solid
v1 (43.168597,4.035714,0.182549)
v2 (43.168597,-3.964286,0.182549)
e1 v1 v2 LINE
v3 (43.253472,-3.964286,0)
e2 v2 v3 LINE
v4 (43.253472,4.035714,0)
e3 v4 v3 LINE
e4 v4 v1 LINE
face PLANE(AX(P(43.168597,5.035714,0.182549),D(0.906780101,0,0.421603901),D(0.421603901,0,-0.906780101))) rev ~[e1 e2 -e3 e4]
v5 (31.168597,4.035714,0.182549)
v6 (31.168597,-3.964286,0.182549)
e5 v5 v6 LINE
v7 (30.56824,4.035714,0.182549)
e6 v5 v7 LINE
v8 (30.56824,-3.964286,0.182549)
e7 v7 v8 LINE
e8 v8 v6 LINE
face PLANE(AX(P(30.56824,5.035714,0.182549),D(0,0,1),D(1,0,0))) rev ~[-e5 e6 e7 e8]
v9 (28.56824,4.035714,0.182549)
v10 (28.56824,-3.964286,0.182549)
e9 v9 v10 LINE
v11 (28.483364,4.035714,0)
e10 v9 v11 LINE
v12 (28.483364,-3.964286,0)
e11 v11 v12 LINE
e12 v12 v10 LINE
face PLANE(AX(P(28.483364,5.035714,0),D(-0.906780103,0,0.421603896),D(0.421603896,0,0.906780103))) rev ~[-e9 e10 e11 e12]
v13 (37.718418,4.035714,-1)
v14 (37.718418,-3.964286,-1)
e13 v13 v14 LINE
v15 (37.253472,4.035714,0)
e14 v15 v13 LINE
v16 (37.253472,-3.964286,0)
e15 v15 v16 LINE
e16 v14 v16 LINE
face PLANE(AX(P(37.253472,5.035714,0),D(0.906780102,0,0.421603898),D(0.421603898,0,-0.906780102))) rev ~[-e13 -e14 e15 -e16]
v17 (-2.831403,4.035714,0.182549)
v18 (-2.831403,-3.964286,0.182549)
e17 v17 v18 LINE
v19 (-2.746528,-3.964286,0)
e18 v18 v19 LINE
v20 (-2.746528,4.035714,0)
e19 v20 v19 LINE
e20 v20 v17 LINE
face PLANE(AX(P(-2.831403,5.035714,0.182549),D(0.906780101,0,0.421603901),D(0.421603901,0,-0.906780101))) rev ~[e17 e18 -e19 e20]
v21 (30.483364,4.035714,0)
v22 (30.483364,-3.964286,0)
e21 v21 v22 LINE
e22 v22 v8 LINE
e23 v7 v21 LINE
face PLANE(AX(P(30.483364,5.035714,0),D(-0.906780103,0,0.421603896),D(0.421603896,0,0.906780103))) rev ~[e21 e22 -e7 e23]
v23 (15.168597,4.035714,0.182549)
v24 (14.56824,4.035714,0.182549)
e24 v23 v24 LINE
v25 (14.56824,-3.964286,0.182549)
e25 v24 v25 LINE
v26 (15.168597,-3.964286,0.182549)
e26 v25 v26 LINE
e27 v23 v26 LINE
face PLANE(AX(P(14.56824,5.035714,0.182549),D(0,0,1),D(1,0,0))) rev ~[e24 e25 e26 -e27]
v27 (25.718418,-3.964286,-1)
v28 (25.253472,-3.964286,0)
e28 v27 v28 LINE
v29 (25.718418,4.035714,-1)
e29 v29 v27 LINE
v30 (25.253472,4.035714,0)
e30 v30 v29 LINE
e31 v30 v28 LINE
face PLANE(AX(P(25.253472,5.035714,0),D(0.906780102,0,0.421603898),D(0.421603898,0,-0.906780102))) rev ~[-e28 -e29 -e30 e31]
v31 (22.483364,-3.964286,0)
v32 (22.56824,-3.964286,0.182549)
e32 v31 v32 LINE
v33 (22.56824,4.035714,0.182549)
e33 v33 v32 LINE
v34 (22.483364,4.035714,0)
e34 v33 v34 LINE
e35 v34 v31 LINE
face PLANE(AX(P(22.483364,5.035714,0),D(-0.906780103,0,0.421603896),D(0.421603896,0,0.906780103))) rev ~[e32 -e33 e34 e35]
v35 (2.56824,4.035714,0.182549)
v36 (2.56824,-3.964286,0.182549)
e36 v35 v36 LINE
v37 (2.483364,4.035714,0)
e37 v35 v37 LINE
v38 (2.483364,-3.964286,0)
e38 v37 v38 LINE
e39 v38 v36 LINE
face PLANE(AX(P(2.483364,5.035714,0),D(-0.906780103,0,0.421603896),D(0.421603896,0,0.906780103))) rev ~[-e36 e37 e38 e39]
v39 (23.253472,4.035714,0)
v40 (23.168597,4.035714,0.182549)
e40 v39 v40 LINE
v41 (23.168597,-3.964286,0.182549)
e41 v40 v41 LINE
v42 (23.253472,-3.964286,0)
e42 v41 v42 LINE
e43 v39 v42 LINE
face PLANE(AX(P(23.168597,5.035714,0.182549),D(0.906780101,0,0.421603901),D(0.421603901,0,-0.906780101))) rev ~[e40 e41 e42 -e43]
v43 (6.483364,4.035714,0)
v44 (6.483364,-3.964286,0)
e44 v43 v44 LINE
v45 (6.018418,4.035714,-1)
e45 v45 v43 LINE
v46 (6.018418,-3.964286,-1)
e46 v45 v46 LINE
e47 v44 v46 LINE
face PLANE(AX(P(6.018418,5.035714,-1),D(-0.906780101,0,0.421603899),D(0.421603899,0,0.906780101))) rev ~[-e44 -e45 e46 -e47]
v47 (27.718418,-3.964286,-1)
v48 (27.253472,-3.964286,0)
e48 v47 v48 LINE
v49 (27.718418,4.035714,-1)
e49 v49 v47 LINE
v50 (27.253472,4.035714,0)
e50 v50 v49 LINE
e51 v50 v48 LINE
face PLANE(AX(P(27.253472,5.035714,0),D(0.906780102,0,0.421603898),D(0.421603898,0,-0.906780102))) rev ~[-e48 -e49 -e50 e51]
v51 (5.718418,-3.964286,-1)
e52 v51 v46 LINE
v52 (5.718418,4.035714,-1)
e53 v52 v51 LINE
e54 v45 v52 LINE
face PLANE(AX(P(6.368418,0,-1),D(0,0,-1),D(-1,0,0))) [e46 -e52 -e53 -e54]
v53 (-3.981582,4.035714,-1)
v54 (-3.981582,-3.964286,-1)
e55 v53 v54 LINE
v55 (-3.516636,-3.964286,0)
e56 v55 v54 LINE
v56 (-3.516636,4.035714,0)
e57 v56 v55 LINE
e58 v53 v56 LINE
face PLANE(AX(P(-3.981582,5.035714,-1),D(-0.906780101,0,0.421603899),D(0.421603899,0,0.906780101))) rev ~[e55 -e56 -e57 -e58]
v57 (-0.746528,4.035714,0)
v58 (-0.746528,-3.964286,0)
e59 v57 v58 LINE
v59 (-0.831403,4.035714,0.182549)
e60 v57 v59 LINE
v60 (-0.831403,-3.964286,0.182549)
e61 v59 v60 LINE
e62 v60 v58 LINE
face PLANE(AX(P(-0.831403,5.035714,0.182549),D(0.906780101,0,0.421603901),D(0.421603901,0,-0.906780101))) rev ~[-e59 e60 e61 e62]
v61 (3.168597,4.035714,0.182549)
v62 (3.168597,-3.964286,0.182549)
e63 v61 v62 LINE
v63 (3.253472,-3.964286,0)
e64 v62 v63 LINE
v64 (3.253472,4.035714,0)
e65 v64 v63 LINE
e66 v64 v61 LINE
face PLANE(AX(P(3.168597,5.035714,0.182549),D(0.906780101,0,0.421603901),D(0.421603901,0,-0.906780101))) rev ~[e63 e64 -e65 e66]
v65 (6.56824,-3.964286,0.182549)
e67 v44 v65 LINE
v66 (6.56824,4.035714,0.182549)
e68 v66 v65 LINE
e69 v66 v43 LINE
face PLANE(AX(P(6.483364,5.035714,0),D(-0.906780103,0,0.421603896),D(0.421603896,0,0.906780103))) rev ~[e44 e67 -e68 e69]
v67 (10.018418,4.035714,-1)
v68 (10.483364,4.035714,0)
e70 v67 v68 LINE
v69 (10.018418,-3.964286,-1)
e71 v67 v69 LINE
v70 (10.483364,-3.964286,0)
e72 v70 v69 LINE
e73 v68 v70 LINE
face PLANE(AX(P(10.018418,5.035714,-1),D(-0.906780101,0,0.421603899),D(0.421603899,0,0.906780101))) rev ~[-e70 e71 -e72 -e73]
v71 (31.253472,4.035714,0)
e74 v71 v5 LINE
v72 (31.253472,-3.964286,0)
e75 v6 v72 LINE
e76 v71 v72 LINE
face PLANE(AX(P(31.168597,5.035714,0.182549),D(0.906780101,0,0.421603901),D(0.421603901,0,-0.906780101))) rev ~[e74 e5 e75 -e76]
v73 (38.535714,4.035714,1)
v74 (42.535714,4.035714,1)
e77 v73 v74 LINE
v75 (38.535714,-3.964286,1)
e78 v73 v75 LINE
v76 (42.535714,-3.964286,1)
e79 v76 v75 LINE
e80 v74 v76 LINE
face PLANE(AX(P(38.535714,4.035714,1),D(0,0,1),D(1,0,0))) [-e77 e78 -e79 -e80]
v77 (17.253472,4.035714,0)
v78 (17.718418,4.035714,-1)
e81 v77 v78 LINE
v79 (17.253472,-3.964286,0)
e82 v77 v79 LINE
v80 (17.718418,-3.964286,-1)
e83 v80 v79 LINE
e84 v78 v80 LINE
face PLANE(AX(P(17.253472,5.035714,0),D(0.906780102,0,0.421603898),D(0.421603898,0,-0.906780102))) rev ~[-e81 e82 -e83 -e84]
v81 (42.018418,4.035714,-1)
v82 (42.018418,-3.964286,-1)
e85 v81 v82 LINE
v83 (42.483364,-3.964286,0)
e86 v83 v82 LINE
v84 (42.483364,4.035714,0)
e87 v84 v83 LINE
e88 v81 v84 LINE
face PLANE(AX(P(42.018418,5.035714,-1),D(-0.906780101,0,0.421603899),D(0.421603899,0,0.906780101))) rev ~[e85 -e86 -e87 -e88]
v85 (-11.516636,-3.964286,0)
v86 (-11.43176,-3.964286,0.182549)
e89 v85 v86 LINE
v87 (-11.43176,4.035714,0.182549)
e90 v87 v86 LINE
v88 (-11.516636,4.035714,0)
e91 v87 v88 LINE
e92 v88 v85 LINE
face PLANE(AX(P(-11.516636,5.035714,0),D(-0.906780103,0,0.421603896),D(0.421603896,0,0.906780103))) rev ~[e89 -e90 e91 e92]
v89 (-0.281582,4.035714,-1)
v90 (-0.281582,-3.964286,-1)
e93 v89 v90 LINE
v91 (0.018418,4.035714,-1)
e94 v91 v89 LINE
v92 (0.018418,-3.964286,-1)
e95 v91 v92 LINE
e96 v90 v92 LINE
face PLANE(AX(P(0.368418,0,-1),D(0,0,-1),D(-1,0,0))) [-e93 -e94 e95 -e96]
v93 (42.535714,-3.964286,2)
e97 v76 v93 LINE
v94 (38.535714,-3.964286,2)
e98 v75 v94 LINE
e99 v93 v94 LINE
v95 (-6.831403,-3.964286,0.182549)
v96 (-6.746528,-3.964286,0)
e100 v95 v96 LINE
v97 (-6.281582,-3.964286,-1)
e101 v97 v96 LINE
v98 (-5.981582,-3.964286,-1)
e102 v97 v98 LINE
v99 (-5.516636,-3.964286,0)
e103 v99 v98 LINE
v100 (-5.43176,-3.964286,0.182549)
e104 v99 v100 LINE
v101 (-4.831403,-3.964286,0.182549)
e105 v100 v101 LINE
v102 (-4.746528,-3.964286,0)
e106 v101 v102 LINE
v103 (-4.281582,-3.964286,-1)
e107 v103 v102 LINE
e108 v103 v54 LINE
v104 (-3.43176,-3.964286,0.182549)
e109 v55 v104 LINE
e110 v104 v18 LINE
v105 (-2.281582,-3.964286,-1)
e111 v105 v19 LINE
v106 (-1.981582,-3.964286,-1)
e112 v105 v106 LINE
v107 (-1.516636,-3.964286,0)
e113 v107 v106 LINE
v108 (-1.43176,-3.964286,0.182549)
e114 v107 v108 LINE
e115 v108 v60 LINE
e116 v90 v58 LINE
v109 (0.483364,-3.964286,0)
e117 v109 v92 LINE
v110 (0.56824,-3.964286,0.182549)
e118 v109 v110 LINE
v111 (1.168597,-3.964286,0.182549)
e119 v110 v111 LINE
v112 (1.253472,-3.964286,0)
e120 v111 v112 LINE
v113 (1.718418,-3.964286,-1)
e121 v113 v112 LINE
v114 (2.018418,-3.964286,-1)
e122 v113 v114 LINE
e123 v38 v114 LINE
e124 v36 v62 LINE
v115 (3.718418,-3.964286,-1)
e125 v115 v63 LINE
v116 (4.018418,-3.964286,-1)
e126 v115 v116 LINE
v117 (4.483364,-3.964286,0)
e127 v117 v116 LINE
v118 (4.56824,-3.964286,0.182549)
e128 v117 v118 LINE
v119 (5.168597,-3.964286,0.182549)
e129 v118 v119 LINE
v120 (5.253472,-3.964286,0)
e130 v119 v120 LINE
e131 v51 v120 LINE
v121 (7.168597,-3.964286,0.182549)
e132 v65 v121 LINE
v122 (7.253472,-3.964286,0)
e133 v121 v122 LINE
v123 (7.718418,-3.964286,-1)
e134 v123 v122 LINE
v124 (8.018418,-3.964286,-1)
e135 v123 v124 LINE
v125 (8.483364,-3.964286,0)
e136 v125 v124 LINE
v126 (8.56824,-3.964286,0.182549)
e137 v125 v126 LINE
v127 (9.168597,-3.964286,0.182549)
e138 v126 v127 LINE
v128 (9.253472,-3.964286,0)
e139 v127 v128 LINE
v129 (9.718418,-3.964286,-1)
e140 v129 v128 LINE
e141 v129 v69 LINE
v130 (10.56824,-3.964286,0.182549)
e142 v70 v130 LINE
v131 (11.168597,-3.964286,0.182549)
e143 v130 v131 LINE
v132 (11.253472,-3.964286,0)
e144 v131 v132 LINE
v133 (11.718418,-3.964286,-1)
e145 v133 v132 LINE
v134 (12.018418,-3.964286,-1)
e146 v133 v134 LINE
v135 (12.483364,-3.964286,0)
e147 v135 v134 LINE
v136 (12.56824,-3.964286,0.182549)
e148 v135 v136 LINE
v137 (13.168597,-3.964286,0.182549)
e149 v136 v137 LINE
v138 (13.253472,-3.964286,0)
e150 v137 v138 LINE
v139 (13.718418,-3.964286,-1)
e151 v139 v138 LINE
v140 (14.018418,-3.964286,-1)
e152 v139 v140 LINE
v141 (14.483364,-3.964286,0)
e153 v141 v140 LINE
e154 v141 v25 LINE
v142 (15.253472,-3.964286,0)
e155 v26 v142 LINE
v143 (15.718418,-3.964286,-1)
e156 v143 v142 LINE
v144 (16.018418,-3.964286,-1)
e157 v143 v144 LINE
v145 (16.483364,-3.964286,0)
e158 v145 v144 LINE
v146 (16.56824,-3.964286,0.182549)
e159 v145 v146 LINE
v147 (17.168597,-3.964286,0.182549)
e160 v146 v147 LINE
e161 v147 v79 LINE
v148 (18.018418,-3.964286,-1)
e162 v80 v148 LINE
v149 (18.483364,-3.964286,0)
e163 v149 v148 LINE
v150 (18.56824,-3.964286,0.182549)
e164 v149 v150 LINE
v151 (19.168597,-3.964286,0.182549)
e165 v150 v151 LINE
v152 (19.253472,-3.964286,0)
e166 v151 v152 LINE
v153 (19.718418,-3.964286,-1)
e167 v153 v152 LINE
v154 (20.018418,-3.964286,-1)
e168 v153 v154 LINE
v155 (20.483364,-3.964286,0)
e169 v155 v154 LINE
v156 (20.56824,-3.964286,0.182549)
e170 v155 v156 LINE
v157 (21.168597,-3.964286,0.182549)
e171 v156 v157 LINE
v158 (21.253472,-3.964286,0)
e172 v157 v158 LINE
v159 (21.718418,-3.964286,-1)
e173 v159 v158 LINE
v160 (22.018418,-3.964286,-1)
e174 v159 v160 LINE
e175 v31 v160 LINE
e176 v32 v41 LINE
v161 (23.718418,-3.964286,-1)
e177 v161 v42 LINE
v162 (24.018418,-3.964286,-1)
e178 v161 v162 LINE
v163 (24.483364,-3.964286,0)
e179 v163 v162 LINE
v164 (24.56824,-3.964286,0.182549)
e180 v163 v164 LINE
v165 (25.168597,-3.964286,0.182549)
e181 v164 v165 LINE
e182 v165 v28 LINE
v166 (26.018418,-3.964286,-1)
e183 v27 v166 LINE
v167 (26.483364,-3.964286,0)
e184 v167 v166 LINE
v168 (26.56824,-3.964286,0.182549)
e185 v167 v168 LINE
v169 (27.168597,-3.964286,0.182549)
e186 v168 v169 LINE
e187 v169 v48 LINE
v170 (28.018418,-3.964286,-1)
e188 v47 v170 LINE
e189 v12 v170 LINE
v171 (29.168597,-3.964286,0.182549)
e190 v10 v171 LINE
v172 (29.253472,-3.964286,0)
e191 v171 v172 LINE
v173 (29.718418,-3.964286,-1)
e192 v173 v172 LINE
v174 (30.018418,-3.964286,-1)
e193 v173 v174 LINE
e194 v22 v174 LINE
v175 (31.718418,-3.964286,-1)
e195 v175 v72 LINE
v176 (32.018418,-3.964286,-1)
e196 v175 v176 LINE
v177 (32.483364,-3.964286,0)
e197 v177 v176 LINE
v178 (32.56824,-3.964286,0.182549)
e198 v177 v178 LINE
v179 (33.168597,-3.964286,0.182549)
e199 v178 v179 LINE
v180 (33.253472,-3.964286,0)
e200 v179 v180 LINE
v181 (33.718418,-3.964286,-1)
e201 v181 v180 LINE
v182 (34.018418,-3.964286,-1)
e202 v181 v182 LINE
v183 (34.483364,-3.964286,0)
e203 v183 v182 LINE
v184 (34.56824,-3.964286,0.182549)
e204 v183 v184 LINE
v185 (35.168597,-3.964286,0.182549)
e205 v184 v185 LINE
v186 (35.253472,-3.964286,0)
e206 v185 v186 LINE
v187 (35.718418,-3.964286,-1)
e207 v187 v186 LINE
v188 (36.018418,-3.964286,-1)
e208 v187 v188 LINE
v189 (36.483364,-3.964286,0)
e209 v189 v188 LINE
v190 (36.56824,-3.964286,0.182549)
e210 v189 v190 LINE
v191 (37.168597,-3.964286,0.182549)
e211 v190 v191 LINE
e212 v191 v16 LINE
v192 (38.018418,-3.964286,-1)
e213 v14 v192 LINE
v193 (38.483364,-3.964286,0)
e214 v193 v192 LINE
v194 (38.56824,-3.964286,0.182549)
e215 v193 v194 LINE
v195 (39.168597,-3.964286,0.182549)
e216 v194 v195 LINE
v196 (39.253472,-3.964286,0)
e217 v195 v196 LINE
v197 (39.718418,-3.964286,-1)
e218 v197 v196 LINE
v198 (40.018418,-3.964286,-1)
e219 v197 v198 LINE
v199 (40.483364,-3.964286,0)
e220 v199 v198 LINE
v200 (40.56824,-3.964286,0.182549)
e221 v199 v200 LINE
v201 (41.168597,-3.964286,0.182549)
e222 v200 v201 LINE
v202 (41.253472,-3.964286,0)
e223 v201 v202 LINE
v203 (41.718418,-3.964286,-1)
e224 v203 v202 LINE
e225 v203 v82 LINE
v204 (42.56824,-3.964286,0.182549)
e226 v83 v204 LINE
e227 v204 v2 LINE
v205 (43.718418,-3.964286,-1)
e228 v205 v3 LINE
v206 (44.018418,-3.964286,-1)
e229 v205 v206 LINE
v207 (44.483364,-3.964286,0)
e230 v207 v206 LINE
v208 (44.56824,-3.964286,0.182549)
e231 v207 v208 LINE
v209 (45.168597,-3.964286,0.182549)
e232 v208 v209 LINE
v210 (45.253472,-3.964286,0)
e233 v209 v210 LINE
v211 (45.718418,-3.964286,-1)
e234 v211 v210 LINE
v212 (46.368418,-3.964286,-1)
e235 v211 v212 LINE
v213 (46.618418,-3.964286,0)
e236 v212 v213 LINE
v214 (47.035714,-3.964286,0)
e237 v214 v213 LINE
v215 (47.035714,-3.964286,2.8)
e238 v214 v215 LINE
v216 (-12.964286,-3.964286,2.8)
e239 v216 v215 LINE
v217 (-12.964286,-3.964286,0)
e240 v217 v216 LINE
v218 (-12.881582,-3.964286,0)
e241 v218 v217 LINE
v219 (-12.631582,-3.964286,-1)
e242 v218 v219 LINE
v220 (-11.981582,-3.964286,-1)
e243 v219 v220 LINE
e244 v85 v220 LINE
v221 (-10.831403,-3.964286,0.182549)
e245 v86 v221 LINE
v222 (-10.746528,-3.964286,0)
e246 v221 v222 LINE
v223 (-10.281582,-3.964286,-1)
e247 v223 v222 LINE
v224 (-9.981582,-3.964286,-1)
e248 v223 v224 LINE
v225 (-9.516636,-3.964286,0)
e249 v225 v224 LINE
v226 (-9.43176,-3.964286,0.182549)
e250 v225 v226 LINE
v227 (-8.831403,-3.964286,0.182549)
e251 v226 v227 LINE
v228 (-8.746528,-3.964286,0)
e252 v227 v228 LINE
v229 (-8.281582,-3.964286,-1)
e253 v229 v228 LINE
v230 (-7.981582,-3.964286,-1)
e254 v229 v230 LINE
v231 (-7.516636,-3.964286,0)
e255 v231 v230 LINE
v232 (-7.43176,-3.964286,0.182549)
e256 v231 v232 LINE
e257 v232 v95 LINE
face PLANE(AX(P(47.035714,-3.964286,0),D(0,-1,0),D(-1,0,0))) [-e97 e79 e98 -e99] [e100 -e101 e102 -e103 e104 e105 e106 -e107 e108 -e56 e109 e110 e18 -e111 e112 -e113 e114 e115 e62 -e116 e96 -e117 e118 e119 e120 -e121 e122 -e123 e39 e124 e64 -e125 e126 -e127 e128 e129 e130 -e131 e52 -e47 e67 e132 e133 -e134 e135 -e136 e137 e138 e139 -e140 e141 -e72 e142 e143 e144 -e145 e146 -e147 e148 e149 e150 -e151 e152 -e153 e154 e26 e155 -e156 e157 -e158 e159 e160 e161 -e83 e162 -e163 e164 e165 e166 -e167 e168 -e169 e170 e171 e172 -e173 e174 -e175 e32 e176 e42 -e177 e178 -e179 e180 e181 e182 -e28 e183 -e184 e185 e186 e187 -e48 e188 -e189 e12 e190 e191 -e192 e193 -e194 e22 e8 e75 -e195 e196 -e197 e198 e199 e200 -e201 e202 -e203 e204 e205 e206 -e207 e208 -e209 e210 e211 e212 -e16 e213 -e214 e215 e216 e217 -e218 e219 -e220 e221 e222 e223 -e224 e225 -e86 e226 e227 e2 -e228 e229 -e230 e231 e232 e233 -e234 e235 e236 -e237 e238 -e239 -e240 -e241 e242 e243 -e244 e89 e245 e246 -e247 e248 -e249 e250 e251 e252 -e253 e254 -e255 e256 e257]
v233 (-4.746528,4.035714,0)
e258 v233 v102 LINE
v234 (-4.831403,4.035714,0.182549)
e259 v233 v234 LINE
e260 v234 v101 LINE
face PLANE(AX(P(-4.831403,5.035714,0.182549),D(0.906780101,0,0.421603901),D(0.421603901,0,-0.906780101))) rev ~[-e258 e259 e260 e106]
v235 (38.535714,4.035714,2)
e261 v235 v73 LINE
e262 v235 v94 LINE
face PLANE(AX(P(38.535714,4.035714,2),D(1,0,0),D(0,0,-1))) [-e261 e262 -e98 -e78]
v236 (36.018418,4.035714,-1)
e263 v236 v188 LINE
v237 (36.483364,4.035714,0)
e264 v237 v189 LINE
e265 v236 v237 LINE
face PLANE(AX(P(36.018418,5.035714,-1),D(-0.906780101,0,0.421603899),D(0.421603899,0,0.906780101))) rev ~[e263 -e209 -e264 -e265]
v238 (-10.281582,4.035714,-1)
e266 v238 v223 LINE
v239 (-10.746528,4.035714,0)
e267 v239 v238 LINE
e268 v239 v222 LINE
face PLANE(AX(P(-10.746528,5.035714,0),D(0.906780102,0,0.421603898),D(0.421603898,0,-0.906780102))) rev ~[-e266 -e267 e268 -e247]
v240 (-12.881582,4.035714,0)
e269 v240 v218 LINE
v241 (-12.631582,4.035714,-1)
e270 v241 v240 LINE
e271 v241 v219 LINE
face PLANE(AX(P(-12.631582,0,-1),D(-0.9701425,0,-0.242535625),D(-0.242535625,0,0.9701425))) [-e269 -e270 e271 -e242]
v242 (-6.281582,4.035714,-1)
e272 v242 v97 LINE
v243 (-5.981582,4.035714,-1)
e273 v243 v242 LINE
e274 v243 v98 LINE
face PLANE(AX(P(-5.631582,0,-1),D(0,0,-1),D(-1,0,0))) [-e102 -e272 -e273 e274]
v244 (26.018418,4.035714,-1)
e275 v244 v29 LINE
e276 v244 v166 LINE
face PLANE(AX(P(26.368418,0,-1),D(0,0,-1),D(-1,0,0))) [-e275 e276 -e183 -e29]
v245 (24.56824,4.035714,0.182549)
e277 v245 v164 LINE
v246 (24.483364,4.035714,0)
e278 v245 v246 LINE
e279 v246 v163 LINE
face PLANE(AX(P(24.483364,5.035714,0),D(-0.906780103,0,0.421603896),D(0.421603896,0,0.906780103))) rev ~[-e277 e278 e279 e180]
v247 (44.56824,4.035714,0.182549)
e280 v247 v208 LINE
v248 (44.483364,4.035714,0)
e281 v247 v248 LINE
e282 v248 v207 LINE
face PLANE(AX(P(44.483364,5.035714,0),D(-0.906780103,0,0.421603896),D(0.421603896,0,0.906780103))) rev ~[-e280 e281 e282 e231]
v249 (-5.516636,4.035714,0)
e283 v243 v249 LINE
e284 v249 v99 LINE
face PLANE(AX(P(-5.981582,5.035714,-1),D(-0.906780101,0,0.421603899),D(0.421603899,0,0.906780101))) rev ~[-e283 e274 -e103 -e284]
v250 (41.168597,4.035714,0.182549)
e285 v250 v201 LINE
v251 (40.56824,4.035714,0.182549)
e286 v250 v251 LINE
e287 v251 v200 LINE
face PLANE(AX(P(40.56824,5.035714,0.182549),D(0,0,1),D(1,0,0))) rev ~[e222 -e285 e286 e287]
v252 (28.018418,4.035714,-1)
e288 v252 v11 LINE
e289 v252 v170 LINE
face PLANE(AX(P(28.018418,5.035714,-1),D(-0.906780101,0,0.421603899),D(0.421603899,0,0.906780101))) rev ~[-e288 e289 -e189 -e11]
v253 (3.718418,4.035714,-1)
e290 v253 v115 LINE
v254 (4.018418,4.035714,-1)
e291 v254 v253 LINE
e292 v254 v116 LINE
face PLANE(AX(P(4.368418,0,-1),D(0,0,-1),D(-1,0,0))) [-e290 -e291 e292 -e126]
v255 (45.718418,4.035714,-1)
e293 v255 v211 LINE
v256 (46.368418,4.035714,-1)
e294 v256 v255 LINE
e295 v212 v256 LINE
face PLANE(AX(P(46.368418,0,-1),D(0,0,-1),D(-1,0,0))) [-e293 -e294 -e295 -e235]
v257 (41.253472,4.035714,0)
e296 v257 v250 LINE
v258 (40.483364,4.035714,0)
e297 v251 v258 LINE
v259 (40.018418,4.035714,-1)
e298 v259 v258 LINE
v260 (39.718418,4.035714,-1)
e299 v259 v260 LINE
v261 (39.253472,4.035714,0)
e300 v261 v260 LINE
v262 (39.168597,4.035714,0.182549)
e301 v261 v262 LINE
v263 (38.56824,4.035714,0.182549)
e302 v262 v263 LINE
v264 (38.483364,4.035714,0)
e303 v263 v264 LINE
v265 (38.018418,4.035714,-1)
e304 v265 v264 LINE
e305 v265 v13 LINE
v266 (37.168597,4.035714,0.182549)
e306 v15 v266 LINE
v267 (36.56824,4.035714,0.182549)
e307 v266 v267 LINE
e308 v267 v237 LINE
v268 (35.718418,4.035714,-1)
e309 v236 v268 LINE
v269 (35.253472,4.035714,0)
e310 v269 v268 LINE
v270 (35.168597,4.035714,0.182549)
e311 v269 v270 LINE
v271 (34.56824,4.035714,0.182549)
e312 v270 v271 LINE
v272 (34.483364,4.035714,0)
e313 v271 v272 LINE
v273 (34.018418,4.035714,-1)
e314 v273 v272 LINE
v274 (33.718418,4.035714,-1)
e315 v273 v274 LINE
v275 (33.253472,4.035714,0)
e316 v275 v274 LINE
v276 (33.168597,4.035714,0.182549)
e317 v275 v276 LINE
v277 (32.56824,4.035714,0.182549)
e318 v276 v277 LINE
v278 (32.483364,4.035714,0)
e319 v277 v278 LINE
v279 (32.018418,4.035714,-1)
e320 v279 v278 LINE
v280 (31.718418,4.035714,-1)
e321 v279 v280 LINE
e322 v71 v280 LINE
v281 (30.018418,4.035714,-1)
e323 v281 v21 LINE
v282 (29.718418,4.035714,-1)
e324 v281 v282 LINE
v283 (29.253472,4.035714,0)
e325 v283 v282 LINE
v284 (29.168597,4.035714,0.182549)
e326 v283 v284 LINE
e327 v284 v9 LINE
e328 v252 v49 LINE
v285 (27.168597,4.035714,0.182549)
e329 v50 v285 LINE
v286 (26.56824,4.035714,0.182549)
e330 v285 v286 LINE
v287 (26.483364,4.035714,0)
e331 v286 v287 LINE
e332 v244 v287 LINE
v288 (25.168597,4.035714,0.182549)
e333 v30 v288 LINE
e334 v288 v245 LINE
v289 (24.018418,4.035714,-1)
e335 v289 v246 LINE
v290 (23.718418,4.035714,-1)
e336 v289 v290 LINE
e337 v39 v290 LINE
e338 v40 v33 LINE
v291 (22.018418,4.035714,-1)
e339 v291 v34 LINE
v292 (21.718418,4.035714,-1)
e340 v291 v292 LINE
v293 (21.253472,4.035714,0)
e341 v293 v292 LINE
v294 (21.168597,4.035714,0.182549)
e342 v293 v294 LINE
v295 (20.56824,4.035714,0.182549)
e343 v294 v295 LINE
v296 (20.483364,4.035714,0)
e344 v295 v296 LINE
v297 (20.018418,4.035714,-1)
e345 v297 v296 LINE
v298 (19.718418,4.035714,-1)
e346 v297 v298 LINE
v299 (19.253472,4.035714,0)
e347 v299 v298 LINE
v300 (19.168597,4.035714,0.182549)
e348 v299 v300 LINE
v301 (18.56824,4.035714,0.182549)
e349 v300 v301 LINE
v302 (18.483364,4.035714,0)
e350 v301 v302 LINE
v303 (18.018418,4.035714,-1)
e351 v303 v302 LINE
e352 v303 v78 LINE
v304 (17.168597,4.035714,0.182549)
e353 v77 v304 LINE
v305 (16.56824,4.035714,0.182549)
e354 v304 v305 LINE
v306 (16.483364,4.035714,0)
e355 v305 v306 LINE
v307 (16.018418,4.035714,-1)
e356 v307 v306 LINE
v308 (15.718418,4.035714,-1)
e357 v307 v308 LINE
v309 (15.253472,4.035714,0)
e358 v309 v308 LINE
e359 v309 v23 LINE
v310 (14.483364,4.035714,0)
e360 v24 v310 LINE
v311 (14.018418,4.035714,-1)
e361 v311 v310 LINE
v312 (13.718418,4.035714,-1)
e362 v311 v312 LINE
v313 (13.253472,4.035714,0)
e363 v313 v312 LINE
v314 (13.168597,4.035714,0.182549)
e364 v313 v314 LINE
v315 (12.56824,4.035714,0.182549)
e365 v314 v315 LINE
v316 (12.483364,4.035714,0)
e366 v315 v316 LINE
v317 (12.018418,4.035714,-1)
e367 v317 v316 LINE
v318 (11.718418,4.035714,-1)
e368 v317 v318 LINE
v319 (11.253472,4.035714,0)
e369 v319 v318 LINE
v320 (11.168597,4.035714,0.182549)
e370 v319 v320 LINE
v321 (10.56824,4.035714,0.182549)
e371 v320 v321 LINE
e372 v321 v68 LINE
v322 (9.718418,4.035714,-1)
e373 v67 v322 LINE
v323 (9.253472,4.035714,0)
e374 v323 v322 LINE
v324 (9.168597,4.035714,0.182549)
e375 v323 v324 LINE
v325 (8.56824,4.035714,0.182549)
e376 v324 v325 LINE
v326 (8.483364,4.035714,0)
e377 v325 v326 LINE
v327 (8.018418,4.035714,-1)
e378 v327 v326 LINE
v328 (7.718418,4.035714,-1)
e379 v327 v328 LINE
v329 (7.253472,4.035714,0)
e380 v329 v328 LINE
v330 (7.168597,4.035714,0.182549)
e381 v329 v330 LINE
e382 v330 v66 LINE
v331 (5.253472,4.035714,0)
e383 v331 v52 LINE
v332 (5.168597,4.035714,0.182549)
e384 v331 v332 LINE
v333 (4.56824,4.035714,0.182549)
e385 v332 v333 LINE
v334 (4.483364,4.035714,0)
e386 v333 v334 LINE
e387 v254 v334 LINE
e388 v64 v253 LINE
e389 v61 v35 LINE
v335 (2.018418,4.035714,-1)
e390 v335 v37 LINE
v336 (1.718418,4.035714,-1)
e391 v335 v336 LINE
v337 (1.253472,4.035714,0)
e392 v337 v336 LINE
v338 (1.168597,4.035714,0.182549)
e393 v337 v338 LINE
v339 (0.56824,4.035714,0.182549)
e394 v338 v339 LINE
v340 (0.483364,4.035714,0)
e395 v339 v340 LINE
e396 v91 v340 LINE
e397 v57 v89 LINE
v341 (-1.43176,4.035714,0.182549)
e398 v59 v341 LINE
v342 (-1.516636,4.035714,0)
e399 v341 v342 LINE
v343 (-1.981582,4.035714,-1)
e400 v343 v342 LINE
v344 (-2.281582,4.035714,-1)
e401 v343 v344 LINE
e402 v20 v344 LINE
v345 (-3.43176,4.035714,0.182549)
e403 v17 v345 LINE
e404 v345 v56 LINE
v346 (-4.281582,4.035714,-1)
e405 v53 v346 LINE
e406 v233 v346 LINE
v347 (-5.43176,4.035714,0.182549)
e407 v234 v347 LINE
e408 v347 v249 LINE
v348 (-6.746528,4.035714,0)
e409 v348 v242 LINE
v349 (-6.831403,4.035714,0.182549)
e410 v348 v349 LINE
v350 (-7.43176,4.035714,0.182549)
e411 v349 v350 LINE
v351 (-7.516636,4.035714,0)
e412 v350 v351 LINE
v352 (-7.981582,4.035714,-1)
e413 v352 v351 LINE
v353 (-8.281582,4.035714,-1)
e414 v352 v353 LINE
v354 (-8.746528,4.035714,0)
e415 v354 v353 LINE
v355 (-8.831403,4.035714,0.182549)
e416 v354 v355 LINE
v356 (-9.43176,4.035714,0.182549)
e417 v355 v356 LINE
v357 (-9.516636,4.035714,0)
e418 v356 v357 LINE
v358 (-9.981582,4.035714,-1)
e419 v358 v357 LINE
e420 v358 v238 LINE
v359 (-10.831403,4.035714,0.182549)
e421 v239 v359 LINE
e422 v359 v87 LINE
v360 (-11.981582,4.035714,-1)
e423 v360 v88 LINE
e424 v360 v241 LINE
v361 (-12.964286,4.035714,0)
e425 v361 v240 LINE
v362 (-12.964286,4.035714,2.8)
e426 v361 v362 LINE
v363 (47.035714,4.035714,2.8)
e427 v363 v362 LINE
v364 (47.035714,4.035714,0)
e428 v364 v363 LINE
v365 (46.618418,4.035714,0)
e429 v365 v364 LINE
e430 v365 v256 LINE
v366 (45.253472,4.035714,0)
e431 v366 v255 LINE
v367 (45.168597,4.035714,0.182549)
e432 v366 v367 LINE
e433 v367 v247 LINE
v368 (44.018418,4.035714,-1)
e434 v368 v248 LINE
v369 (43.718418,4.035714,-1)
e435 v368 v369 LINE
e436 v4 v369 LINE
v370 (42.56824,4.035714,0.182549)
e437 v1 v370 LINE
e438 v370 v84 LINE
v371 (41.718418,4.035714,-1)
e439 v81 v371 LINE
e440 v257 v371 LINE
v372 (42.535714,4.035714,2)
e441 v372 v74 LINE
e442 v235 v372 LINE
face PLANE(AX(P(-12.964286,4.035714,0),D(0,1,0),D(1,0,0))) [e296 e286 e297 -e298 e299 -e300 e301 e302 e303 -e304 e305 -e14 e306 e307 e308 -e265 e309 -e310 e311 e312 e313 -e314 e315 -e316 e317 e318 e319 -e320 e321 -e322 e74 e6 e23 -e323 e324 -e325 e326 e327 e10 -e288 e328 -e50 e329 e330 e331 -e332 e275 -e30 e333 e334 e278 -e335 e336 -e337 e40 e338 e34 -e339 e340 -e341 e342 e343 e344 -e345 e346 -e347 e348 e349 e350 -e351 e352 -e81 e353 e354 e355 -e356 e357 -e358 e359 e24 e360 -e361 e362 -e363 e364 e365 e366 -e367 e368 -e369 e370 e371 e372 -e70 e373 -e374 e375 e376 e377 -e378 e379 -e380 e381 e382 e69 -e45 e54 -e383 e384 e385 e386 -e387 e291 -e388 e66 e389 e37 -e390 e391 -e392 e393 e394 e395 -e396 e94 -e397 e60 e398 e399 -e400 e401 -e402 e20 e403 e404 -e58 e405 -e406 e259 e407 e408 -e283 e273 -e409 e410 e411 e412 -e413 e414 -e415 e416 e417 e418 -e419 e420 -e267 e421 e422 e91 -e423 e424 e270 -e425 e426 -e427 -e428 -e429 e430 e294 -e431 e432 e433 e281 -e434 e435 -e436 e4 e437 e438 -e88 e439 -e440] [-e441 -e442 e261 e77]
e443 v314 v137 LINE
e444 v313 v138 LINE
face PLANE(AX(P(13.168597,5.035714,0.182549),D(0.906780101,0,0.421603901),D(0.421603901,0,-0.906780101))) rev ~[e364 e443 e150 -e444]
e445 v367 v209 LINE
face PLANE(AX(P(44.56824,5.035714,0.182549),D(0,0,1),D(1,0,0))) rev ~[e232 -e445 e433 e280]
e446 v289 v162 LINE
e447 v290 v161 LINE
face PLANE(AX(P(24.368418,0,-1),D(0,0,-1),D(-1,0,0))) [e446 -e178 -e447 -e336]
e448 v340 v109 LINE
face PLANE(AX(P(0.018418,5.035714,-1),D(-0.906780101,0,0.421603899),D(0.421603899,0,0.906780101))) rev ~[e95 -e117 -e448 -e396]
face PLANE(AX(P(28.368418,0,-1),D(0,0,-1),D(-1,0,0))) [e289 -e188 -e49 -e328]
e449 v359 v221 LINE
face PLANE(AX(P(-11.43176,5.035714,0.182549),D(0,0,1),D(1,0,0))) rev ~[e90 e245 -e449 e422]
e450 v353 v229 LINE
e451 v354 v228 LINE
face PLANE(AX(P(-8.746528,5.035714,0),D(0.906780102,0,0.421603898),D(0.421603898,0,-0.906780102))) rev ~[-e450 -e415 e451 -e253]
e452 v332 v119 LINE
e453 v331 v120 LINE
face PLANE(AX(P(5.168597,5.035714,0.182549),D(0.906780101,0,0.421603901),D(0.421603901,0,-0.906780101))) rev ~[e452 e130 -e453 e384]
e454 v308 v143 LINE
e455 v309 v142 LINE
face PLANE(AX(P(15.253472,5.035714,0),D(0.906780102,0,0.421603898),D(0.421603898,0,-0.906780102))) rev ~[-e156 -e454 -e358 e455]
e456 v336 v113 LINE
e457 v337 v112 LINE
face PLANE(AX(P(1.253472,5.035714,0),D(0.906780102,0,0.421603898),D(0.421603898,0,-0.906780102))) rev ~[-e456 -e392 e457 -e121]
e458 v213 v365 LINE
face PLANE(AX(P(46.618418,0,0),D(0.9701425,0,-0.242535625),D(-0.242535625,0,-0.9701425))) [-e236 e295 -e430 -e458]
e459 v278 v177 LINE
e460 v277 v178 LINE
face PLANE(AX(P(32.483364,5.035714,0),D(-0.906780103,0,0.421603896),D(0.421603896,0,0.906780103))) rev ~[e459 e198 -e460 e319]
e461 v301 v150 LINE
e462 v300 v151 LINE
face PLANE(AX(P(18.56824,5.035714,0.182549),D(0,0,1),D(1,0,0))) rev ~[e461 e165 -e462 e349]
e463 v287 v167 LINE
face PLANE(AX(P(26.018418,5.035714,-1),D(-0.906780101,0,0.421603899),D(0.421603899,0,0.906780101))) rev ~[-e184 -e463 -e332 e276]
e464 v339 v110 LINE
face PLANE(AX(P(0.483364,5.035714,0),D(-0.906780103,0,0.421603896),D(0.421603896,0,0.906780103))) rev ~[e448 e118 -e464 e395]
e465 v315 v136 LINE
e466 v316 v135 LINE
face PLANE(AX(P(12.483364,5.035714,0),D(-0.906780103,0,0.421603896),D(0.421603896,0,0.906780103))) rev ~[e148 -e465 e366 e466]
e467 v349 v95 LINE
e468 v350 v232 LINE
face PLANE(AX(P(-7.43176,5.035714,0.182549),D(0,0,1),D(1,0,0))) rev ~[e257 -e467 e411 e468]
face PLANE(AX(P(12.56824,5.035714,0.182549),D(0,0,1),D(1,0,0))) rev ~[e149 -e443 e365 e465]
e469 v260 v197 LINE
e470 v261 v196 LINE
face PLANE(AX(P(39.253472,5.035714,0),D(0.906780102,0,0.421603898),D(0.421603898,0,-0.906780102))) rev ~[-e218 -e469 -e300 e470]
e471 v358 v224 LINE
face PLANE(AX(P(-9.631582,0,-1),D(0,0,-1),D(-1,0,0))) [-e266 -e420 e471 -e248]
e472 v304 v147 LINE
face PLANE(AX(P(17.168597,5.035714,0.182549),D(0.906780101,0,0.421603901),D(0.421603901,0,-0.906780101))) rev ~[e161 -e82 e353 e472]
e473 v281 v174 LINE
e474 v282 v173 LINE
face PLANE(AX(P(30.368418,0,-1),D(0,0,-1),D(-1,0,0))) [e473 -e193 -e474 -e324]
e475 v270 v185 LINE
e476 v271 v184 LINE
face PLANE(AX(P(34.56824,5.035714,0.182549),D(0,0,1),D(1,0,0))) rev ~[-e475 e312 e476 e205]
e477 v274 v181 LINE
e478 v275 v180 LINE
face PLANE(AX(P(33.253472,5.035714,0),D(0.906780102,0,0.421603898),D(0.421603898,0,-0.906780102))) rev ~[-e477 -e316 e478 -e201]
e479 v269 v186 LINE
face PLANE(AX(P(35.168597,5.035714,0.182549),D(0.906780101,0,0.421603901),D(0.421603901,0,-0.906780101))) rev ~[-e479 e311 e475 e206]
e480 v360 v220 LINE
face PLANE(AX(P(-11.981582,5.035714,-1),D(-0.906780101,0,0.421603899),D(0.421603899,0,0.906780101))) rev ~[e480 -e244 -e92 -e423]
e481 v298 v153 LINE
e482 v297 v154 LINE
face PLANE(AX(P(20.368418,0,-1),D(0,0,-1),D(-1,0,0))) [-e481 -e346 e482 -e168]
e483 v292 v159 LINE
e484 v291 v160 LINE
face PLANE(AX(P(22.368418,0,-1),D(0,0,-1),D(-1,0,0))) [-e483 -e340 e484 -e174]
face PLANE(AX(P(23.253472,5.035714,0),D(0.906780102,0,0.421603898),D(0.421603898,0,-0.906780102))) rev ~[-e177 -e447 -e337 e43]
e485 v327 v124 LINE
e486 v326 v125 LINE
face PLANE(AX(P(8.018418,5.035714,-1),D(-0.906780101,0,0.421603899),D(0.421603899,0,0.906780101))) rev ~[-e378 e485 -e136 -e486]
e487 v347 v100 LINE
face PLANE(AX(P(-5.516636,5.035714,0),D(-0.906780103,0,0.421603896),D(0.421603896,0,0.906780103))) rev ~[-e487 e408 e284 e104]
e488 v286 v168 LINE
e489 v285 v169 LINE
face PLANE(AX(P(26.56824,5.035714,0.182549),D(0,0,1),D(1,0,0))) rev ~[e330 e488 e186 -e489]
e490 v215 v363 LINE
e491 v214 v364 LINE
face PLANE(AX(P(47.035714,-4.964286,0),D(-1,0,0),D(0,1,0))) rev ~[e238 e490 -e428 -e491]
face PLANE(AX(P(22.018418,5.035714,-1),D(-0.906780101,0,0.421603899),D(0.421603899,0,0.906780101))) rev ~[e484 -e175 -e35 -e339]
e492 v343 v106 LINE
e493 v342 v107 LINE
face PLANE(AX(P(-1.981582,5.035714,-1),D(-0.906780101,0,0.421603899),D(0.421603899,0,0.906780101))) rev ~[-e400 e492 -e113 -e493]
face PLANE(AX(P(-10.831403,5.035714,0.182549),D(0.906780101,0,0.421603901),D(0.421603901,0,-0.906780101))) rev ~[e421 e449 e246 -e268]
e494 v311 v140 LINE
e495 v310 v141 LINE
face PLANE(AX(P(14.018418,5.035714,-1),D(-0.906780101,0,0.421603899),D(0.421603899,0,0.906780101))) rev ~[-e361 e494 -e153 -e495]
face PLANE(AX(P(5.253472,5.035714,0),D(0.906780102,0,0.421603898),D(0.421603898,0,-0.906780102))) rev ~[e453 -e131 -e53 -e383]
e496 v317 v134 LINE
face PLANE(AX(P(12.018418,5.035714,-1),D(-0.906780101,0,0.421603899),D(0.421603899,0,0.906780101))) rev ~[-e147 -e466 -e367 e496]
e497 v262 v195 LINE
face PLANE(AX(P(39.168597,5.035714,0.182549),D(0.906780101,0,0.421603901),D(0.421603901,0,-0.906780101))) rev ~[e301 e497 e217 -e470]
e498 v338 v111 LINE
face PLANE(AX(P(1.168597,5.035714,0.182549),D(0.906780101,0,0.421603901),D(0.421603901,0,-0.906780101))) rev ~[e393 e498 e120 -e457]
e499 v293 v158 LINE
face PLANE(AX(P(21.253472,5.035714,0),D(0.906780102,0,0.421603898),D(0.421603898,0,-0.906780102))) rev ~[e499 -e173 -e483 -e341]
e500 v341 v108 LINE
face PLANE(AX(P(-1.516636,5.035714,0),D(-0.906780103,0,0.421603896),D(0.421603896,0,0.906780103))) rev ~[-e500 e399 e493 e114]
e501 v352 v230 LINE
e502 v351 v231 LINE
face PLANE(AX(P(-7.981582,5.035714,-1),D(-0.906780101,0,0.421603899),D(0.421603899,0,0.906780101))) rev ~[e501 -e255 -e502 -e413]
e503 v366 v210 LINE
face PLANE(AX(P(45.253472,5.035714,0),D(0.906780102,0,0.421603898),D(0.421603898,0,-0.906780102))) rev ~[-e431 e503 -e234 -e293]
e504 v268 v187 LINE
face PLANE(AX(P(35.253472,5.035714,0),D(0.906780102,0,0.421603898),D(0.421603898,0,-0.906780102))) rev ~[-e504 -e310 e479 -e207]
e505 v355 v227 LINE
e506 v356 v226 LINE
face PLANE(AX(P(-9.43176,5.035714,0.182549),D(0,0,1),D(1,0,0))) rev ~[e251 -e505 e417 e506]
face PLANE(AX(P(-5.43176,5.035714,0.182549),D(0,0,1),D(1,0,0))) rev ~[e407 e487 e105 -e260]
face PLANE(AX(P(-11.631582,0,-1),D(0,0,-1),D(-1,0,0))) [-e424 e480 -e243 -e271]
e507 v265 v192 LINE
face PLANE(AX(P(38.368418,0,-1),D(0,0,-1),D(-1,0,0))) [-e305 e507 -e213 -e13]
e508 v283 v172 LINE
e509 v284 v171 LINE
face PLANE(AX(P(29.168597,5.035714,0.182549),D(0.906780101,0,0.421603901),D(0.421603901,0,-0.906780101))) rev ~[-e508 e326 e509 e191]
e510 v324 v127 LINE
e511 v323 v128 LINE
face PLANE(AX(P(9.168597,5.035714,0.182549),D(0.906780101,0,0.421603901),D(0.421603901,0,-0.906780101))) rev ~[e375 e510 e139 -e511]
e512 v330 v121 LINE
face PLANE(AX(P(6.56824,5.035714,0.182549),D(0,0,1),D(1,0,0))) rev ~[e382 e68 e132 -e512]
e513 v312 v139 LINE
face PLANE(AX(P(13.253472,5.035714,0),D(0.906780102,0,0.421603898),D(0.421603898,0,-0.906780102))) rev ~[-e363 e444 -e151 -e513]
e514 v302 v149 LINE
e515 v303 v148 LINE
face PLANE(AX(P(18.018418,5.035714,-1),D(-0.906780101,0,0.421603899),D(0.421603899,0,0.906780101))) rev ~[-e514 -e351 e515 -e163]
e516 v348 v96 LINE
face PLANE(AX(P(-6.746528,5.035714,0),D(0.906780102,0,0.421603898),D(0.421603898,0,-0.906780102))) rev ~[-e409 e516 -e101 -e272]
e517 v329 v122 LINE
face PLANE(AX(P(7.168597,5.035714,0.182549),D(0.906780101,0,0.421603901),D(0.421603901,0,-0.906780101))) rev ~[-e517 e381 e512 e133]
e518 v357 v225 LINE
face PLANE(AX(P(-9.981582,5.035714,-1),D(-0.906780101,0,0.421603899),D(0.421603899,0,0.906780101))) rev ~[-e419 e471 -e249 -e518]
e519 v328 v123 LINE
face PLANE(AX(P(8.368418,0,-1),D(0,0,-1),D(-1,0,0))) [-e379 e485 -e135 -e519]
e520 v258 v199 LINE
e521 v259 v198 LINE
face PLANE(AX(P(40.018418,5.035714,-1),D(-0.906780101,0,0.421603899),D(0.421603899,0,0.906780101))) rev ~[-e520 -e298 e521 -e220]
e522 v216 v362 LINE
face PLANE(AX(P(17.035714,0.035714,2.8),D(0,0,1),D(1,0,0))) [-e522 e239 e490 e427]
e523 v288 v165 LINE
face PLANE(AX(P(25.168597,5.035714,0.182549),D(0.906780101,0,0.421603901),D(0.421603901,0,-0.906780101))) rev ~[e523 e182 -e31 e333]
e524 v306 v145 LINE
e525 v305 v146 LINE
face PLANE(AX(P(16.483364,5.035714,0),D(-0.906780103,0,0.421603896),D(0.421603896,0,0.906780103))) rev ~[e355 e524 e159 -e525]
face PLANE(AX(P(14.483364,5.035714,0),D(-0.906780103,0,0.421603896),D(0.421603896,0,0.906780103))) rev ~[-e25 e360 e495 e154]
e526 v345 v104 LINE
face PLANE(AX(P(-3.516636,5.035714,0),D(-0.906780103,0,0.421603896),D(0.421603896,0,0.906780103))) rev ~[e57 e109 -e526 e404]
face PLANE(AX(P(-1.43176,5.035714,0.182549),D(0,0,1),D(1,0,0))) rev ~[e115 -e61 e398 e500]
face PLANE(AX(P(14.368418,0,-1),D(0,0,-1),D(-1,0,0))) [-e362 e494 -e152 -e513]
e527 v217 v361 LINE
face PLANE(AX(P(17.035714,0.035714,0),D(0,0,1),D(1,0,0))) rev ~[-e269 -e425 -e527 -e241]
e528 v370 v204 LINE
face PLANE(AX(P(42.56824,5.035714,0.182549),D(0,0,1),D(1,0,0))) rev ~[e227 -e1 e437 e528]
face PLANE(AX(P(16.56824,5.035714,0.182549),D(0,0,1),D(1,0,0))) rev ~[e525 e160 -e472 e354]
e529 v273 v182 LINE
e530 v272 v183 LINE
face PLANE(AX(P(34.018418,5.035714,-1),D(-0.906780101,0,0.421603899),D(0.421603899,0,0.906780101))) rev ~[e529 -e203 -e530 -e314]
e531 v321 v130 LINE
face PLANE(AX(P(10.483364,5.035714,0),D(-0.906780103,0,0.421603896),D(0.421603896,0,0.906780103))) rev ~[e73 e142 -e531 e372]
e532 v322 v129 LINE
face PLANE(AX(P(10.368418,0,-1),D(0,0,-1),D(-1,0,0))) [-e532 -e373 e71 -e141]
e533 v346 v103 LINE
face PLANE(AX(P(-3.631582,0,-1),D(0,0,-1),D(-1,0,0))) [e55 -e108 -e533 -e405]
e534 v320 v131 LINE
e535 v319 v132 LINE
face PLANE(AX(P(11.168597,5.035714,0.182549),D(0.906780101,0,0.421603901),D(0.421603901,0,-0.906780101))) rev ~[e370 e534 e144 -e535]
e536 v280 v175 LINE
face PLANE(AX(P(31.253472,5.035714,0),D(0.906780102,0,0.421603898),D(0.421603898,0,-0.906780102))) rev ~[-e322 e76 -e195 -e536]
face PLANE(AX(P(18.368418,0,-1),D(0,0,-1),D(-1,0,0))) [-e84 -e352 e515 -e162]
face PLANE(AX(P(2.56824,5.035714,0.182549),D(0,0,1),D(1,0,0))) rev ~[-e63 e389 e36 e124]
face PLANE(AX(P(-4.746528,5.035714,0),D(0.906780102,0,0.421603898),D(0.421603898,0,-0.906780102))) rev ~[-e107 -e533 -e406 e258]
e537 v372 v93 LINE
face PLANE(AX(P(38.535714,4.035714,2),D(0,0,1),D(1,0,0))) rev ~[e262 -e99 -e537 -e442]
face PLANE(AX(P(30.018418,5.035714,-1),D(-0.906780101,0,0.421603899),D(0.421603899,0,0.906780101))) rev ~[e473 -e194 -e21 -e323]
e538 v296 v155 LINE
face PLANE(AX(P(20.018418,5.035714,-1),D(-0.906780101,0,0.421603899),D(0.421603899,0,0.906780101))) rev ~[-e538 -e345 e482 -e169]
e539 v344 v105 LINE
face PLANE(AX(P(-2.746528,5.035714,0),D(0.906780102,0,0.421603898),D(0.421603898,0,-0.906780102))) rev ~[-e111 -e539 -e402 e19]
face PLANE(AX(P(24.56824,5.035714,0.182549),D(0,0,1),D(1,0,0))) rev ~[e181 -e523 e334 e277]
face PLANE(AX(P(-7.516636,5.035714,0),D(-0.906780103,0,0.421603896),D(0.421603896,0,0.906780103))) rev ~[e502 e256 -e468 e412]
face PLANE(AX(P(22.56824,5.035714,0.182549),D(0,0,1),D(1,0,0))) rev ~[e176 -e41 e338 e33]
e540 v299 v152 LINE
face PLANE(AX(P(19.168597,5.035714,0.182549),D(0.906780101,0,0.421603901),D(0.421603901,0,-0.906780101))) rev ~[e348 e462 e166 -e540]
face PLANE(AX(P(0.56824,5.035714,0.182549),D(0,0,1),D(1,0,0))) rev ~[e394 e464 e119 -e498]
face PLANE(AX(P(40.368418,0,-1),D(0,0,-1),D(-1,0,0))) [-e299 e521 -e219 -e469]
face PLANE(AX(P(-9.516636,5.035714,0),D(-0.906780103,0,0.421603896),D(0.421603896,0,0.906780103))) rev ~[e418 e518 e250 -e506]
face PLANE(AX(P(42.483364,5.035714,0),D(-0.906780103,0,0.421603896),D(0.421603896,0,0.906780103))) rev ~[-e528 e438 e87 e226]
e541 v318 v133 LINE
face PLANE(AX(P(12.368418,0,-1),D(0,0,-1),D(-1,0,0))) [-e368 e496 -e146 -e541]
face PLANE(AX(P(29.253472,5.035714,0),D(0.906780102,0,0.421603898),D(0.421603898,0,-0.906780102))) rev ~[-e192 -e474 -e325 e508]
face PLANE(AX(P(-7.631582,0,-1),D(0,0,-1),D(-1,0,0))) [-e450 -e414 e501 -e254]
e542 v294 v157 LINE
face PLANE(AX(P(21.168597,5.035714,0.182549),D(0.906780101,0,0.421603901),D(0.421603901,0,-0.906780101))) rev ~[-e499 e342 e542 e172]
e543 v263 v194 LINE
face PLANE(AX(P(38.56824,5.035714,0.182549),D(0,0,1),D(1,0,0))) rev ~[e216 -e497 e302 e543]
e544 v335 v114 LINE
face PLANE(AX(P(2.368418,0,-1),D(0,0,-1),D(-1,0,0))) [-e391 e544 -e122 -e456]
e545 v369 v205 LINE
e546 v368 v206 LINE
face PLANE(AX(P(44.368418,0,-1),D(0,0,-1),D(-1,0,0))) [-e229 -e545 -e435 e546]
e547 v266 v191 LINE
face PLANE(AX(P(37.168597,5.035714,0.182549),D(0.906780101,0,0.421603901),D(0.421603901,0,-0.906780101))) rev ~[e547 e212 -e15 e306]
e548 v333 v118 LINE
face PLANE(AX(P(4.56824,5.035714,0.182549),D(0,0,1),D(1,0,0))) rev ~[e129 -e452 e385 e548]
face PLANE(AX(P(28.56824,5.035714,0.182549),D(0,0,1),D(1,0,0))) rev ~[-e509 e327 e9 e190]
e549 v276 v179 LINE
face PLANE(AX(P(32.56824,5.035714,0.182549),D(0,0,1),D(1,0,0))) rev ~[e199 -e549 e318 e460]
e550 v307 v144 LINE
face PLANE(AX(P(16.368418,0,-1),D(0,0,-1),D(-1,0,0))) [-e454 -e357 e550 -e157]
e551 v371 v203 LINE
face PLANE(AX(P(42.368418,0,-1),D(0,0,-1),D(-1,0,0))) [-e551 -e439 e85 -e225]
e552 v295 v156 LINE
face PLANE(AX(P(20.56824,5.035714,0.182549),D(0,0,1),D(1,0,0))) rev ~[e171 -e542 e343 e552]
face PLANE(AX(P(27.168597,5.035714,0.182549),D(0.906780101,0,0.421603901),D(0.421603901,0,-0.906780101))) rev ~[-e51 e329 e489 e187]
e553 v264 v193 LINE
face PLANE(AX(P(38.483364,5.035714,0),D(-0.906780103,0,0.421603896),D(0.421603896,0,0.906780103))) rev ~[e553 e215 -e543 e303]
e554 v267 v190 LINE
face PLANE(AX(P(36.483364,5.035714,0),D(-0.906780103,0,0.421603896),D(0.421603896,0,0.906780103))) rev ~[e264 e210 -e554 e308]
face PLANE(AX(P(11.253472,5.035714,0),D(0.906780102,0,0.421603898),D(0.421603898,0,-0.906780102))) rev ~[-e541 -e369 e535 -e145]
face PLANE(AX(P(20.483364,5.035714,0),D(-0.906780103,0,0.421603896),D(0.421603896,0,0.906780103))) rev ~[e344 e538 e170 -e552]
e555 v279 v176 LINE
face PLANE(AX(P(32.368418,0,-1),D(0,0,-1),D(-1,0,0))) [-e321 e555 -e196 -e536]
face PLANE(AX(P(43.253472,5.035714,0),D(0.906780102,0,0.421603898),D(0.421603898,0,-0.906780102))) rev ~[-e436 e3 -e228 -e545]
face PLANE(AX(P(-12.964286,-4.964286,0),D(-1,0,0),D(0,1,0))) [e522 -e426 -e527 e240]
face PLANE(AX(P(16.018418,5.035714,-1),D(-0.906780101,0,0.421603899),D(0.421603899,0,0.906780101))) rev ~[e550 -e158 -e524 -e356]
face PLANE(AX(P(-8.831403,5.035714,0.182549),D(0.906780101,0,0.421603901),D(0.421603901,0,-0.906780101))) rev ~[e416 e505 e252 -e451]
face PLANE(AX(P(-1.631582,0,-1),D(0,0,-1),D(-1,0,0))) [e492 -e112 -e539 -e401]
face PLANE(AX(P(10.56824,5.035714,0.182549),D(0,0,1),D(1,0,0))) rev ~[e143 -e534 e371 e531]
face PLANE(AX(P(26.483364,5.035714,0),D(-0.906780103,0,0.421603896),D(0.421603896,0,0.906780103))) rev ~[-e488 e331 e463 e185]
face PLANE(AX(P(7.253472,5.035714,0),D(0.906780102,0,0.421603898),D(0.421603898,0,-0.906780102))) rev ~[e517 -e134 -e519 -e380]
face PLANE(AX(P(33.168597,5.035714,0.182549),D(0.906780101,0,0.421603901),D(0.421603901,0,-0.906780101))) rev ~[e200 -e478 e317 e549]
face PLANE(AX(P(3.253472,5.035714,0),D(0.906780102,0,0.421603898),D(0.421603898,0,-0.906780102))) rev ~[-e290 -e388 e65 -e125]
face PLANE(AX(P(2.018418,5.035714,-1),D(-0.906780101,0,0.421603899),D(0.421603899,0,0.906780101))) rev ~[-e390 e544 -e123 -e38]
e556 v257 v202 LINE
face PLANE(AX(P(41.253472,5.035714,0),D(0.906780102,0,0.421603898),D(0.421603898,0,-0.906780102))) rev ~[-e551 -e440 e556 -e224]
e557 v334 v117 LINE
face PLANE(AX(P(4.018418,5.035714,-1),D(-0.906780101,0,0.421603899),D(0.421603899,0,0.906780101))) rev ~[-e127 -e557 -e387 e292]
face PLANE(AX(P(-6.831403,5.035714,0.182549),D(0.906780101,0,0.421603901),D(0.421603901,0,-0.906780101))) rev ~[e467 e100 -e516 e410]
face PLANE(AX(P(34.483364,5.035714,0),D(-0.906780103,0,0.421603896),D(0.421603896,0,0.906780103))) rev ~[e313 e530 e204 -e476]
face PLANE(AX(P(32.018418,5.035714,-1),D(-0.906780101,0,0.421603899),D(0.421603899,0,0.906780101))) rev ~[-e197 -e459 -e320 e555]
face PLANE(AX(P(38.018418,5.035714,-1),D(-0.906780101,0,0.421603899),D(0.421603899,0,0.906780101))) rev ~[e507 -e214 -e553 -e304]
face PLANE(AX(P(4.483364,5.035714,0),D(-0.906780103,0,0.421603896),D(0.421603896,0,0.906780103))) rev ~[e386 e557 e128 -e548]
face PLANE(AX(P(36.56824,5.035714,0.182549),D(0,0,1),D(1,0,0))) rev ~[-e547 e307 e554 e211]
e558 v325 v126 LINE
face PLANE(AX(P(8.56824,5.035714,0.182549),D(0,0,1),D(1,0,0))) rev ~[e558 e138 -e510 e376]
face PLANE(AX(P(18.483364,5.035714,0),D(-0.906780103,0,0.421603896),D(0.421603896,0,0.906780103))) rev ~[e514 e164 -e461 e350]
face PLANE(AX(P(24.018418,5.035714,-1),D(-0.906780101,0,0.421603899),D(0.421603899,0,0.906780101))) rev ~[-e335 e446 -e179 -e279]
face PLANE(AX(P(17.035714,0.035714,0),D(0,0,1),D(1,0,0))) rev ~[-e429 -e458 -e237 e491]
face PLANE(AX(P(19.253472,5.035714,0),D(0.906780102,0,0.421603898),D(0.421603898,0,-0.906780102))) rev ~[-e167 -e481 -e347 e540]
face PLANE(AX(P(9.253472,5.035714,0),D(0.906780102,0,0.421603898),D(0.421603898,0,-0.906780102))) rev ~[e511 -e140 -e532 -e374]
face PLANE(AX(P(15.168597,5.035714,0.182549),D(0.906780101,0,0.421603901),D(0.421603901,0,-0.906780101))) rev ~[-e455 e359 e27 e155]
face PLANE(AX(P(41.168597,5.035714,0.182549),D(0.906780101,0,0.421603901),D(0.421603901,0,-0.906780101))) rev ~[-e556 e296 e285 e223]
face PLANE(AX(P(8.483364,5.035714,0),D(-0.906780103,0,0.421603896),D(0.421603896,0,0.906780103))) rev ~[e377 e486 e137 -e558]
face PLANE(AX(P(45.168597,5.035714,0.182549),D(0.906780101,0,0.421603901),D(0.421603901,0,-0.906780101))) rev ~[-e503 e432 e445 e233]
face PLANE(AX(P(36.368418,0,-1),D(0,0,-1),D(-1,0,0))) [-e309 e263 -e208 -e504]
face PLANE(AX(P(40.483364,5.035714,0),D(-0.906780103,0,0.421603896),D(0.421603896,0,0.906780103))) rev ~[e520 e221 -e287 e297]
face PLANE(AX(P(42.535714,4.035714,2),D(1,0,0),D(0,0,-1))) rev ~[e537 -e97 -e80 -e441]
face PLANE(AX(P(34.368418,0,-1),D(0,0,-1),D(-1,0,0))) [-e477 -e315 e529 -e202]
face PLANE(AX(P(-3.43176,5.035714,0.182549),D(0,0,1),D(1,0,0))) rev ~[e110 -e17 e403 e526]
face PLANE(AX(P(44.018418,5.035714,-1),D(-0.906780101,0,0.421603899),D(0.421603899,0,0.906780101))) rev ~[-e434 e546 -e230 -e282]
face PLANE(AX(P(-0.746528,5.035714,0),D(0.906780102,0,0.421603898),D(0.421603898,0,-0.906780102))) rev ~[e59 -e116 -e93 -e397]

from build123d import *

# Parameters (mm, degrees)
SKETCH_1_W               = 60
SKETCH_1_H               = 10
EXTRUDE_1_DEPTH          = 2.8
EXTRUDE_2_DEPTH          = 5
PATTERN_LINEAR_1_COUNT   = 30
PATTERN_LINEAR_1_PITCH   = 2
CUT_EXTRUDE_1_DEPTH      = 10.1
PATTERN_LINEAR_2_COUNT   = 29
PATTERN_LINEAR_2_PITCH   = 2
CUT_EXTRUDE_4_DEPTH      = 5
CUT_EXTRUDE_4_DEPTH_BACK = 5
SKETCH_5_W               = 60
SKETCH_5_H               = 1
CUT_EXTRUDE_5_DEPTH      = 10
CUT_EXTRUDE_5_DEPTH_BACK = 10
SKETCH_6_W               = 4
SKETCH_6_H               = 1


with BuildPart() as part:
    # 草圖1 → 填料-伸長1 (new body)
    with BuildSketch(Plane.XY):
        with Locations((17.035714286, 0.035714286)):
            Rectangle(SKETCH_1_W, SKETCH_1_H)
    extrude(amount=EXTRUDE_1_DEPTH)

    # 草圖3 → 填料-伸長2 (add, symmetric)
    with BuildSketch(Plane(origin=(0, 0, 0), x_dir=(1, 0, 0), z_dir=(0, 1, 0))):
        Polygon((-12.88158197, 0), (-11.38158197, 0), (-11.63158197, 1), (-12.63158197, 1), align=None)
    extrude_2 = extrude(amount=EXTRUDE_2_DEPTH, both=True)

    # 直線複製排列1: 填料-伸長2 ×30
    with Locations(*[(i * PATTERN_LINEAR_1_PITCH, 0, 0) for i in range(1, PATTERN_LINEAR_1_COUNT)]):
        add(extrude_2)

    # 草圖4 → 除料-伸長1 (cut)
    with BuildSketch(Plane(origin=(0, 5.035714286, 0), x_dir=(1, 0, 0), z_dir=(0, 1, 0))):
        Polygon((-11.51663584, 0), (-11.431760496, -0.182548771), (-10.831403444, -0.182548771), (-10.746528099, 0), (-10.28158197, 1), (-11.98158197, 1), align=None)
    cut_extrude_1 = extrude(amount=-CUT_EXTRUDE_1_DEPTH, mode=Mode.SUBTRACT)

    # 直線複製排列2: 除料-伸長1 ×29
    with Locations(*[(i * PATTERN_LINEAR_2_PITCH, 0, 0) for i in range(1, PATTERN_LINEAR_2_COUNT)]):
        add(cut_extrude_1, mode=Mode.SUBTRACT)

    # 草圖5 → 除料-伸長4 (cut, two sides: drawn at the far end of the back side and taken through both)
    with BuildSketch(Plane.XY.offset(-CUT_EXTRUDE_4_DEPTH_BACK)):
        Polygon((-12.964285714, -3.964285714), (-12.964285714, -4.964285714), (-12.964285714, -5.413989132), (47.035714286, -5.088807164), (47.035714286, -3.964285714), align=None)
        with Locations((17.035714286, 4.535714286)):
            Rectangle(SKETCH_5_W, SKETCH_5_H)
    extrude(amount=CUT_EXTRUDE_4_DEPTH + CUT_EXTRUDE_4_DEPTH_BACK, mode=Mode.SUBTRACT)

    # 草圖6 → 除料-伸長5 (cut, two sides: drawn at the far end of the back side and taken through both)
    with BuildSketch(Plane(origin=(0, 4.035714286, 0), x_dir=(1, 0, 0), z_dir=(0, 1, 0)).offset(-CUT_EXTRUDE_5_DEPTH_BACK)):
        with Locations((40.535714286, -1.5)):
            Rectangle(SKETCH_6_W, SKETCH_6_H)
    extrude(amount=CUT_EXTRUDE_5_DEPTH + CUT_EXTRUDE_5_DEPTH_BACK, mode=Mode.SUBTRACT)


solid = part.part
